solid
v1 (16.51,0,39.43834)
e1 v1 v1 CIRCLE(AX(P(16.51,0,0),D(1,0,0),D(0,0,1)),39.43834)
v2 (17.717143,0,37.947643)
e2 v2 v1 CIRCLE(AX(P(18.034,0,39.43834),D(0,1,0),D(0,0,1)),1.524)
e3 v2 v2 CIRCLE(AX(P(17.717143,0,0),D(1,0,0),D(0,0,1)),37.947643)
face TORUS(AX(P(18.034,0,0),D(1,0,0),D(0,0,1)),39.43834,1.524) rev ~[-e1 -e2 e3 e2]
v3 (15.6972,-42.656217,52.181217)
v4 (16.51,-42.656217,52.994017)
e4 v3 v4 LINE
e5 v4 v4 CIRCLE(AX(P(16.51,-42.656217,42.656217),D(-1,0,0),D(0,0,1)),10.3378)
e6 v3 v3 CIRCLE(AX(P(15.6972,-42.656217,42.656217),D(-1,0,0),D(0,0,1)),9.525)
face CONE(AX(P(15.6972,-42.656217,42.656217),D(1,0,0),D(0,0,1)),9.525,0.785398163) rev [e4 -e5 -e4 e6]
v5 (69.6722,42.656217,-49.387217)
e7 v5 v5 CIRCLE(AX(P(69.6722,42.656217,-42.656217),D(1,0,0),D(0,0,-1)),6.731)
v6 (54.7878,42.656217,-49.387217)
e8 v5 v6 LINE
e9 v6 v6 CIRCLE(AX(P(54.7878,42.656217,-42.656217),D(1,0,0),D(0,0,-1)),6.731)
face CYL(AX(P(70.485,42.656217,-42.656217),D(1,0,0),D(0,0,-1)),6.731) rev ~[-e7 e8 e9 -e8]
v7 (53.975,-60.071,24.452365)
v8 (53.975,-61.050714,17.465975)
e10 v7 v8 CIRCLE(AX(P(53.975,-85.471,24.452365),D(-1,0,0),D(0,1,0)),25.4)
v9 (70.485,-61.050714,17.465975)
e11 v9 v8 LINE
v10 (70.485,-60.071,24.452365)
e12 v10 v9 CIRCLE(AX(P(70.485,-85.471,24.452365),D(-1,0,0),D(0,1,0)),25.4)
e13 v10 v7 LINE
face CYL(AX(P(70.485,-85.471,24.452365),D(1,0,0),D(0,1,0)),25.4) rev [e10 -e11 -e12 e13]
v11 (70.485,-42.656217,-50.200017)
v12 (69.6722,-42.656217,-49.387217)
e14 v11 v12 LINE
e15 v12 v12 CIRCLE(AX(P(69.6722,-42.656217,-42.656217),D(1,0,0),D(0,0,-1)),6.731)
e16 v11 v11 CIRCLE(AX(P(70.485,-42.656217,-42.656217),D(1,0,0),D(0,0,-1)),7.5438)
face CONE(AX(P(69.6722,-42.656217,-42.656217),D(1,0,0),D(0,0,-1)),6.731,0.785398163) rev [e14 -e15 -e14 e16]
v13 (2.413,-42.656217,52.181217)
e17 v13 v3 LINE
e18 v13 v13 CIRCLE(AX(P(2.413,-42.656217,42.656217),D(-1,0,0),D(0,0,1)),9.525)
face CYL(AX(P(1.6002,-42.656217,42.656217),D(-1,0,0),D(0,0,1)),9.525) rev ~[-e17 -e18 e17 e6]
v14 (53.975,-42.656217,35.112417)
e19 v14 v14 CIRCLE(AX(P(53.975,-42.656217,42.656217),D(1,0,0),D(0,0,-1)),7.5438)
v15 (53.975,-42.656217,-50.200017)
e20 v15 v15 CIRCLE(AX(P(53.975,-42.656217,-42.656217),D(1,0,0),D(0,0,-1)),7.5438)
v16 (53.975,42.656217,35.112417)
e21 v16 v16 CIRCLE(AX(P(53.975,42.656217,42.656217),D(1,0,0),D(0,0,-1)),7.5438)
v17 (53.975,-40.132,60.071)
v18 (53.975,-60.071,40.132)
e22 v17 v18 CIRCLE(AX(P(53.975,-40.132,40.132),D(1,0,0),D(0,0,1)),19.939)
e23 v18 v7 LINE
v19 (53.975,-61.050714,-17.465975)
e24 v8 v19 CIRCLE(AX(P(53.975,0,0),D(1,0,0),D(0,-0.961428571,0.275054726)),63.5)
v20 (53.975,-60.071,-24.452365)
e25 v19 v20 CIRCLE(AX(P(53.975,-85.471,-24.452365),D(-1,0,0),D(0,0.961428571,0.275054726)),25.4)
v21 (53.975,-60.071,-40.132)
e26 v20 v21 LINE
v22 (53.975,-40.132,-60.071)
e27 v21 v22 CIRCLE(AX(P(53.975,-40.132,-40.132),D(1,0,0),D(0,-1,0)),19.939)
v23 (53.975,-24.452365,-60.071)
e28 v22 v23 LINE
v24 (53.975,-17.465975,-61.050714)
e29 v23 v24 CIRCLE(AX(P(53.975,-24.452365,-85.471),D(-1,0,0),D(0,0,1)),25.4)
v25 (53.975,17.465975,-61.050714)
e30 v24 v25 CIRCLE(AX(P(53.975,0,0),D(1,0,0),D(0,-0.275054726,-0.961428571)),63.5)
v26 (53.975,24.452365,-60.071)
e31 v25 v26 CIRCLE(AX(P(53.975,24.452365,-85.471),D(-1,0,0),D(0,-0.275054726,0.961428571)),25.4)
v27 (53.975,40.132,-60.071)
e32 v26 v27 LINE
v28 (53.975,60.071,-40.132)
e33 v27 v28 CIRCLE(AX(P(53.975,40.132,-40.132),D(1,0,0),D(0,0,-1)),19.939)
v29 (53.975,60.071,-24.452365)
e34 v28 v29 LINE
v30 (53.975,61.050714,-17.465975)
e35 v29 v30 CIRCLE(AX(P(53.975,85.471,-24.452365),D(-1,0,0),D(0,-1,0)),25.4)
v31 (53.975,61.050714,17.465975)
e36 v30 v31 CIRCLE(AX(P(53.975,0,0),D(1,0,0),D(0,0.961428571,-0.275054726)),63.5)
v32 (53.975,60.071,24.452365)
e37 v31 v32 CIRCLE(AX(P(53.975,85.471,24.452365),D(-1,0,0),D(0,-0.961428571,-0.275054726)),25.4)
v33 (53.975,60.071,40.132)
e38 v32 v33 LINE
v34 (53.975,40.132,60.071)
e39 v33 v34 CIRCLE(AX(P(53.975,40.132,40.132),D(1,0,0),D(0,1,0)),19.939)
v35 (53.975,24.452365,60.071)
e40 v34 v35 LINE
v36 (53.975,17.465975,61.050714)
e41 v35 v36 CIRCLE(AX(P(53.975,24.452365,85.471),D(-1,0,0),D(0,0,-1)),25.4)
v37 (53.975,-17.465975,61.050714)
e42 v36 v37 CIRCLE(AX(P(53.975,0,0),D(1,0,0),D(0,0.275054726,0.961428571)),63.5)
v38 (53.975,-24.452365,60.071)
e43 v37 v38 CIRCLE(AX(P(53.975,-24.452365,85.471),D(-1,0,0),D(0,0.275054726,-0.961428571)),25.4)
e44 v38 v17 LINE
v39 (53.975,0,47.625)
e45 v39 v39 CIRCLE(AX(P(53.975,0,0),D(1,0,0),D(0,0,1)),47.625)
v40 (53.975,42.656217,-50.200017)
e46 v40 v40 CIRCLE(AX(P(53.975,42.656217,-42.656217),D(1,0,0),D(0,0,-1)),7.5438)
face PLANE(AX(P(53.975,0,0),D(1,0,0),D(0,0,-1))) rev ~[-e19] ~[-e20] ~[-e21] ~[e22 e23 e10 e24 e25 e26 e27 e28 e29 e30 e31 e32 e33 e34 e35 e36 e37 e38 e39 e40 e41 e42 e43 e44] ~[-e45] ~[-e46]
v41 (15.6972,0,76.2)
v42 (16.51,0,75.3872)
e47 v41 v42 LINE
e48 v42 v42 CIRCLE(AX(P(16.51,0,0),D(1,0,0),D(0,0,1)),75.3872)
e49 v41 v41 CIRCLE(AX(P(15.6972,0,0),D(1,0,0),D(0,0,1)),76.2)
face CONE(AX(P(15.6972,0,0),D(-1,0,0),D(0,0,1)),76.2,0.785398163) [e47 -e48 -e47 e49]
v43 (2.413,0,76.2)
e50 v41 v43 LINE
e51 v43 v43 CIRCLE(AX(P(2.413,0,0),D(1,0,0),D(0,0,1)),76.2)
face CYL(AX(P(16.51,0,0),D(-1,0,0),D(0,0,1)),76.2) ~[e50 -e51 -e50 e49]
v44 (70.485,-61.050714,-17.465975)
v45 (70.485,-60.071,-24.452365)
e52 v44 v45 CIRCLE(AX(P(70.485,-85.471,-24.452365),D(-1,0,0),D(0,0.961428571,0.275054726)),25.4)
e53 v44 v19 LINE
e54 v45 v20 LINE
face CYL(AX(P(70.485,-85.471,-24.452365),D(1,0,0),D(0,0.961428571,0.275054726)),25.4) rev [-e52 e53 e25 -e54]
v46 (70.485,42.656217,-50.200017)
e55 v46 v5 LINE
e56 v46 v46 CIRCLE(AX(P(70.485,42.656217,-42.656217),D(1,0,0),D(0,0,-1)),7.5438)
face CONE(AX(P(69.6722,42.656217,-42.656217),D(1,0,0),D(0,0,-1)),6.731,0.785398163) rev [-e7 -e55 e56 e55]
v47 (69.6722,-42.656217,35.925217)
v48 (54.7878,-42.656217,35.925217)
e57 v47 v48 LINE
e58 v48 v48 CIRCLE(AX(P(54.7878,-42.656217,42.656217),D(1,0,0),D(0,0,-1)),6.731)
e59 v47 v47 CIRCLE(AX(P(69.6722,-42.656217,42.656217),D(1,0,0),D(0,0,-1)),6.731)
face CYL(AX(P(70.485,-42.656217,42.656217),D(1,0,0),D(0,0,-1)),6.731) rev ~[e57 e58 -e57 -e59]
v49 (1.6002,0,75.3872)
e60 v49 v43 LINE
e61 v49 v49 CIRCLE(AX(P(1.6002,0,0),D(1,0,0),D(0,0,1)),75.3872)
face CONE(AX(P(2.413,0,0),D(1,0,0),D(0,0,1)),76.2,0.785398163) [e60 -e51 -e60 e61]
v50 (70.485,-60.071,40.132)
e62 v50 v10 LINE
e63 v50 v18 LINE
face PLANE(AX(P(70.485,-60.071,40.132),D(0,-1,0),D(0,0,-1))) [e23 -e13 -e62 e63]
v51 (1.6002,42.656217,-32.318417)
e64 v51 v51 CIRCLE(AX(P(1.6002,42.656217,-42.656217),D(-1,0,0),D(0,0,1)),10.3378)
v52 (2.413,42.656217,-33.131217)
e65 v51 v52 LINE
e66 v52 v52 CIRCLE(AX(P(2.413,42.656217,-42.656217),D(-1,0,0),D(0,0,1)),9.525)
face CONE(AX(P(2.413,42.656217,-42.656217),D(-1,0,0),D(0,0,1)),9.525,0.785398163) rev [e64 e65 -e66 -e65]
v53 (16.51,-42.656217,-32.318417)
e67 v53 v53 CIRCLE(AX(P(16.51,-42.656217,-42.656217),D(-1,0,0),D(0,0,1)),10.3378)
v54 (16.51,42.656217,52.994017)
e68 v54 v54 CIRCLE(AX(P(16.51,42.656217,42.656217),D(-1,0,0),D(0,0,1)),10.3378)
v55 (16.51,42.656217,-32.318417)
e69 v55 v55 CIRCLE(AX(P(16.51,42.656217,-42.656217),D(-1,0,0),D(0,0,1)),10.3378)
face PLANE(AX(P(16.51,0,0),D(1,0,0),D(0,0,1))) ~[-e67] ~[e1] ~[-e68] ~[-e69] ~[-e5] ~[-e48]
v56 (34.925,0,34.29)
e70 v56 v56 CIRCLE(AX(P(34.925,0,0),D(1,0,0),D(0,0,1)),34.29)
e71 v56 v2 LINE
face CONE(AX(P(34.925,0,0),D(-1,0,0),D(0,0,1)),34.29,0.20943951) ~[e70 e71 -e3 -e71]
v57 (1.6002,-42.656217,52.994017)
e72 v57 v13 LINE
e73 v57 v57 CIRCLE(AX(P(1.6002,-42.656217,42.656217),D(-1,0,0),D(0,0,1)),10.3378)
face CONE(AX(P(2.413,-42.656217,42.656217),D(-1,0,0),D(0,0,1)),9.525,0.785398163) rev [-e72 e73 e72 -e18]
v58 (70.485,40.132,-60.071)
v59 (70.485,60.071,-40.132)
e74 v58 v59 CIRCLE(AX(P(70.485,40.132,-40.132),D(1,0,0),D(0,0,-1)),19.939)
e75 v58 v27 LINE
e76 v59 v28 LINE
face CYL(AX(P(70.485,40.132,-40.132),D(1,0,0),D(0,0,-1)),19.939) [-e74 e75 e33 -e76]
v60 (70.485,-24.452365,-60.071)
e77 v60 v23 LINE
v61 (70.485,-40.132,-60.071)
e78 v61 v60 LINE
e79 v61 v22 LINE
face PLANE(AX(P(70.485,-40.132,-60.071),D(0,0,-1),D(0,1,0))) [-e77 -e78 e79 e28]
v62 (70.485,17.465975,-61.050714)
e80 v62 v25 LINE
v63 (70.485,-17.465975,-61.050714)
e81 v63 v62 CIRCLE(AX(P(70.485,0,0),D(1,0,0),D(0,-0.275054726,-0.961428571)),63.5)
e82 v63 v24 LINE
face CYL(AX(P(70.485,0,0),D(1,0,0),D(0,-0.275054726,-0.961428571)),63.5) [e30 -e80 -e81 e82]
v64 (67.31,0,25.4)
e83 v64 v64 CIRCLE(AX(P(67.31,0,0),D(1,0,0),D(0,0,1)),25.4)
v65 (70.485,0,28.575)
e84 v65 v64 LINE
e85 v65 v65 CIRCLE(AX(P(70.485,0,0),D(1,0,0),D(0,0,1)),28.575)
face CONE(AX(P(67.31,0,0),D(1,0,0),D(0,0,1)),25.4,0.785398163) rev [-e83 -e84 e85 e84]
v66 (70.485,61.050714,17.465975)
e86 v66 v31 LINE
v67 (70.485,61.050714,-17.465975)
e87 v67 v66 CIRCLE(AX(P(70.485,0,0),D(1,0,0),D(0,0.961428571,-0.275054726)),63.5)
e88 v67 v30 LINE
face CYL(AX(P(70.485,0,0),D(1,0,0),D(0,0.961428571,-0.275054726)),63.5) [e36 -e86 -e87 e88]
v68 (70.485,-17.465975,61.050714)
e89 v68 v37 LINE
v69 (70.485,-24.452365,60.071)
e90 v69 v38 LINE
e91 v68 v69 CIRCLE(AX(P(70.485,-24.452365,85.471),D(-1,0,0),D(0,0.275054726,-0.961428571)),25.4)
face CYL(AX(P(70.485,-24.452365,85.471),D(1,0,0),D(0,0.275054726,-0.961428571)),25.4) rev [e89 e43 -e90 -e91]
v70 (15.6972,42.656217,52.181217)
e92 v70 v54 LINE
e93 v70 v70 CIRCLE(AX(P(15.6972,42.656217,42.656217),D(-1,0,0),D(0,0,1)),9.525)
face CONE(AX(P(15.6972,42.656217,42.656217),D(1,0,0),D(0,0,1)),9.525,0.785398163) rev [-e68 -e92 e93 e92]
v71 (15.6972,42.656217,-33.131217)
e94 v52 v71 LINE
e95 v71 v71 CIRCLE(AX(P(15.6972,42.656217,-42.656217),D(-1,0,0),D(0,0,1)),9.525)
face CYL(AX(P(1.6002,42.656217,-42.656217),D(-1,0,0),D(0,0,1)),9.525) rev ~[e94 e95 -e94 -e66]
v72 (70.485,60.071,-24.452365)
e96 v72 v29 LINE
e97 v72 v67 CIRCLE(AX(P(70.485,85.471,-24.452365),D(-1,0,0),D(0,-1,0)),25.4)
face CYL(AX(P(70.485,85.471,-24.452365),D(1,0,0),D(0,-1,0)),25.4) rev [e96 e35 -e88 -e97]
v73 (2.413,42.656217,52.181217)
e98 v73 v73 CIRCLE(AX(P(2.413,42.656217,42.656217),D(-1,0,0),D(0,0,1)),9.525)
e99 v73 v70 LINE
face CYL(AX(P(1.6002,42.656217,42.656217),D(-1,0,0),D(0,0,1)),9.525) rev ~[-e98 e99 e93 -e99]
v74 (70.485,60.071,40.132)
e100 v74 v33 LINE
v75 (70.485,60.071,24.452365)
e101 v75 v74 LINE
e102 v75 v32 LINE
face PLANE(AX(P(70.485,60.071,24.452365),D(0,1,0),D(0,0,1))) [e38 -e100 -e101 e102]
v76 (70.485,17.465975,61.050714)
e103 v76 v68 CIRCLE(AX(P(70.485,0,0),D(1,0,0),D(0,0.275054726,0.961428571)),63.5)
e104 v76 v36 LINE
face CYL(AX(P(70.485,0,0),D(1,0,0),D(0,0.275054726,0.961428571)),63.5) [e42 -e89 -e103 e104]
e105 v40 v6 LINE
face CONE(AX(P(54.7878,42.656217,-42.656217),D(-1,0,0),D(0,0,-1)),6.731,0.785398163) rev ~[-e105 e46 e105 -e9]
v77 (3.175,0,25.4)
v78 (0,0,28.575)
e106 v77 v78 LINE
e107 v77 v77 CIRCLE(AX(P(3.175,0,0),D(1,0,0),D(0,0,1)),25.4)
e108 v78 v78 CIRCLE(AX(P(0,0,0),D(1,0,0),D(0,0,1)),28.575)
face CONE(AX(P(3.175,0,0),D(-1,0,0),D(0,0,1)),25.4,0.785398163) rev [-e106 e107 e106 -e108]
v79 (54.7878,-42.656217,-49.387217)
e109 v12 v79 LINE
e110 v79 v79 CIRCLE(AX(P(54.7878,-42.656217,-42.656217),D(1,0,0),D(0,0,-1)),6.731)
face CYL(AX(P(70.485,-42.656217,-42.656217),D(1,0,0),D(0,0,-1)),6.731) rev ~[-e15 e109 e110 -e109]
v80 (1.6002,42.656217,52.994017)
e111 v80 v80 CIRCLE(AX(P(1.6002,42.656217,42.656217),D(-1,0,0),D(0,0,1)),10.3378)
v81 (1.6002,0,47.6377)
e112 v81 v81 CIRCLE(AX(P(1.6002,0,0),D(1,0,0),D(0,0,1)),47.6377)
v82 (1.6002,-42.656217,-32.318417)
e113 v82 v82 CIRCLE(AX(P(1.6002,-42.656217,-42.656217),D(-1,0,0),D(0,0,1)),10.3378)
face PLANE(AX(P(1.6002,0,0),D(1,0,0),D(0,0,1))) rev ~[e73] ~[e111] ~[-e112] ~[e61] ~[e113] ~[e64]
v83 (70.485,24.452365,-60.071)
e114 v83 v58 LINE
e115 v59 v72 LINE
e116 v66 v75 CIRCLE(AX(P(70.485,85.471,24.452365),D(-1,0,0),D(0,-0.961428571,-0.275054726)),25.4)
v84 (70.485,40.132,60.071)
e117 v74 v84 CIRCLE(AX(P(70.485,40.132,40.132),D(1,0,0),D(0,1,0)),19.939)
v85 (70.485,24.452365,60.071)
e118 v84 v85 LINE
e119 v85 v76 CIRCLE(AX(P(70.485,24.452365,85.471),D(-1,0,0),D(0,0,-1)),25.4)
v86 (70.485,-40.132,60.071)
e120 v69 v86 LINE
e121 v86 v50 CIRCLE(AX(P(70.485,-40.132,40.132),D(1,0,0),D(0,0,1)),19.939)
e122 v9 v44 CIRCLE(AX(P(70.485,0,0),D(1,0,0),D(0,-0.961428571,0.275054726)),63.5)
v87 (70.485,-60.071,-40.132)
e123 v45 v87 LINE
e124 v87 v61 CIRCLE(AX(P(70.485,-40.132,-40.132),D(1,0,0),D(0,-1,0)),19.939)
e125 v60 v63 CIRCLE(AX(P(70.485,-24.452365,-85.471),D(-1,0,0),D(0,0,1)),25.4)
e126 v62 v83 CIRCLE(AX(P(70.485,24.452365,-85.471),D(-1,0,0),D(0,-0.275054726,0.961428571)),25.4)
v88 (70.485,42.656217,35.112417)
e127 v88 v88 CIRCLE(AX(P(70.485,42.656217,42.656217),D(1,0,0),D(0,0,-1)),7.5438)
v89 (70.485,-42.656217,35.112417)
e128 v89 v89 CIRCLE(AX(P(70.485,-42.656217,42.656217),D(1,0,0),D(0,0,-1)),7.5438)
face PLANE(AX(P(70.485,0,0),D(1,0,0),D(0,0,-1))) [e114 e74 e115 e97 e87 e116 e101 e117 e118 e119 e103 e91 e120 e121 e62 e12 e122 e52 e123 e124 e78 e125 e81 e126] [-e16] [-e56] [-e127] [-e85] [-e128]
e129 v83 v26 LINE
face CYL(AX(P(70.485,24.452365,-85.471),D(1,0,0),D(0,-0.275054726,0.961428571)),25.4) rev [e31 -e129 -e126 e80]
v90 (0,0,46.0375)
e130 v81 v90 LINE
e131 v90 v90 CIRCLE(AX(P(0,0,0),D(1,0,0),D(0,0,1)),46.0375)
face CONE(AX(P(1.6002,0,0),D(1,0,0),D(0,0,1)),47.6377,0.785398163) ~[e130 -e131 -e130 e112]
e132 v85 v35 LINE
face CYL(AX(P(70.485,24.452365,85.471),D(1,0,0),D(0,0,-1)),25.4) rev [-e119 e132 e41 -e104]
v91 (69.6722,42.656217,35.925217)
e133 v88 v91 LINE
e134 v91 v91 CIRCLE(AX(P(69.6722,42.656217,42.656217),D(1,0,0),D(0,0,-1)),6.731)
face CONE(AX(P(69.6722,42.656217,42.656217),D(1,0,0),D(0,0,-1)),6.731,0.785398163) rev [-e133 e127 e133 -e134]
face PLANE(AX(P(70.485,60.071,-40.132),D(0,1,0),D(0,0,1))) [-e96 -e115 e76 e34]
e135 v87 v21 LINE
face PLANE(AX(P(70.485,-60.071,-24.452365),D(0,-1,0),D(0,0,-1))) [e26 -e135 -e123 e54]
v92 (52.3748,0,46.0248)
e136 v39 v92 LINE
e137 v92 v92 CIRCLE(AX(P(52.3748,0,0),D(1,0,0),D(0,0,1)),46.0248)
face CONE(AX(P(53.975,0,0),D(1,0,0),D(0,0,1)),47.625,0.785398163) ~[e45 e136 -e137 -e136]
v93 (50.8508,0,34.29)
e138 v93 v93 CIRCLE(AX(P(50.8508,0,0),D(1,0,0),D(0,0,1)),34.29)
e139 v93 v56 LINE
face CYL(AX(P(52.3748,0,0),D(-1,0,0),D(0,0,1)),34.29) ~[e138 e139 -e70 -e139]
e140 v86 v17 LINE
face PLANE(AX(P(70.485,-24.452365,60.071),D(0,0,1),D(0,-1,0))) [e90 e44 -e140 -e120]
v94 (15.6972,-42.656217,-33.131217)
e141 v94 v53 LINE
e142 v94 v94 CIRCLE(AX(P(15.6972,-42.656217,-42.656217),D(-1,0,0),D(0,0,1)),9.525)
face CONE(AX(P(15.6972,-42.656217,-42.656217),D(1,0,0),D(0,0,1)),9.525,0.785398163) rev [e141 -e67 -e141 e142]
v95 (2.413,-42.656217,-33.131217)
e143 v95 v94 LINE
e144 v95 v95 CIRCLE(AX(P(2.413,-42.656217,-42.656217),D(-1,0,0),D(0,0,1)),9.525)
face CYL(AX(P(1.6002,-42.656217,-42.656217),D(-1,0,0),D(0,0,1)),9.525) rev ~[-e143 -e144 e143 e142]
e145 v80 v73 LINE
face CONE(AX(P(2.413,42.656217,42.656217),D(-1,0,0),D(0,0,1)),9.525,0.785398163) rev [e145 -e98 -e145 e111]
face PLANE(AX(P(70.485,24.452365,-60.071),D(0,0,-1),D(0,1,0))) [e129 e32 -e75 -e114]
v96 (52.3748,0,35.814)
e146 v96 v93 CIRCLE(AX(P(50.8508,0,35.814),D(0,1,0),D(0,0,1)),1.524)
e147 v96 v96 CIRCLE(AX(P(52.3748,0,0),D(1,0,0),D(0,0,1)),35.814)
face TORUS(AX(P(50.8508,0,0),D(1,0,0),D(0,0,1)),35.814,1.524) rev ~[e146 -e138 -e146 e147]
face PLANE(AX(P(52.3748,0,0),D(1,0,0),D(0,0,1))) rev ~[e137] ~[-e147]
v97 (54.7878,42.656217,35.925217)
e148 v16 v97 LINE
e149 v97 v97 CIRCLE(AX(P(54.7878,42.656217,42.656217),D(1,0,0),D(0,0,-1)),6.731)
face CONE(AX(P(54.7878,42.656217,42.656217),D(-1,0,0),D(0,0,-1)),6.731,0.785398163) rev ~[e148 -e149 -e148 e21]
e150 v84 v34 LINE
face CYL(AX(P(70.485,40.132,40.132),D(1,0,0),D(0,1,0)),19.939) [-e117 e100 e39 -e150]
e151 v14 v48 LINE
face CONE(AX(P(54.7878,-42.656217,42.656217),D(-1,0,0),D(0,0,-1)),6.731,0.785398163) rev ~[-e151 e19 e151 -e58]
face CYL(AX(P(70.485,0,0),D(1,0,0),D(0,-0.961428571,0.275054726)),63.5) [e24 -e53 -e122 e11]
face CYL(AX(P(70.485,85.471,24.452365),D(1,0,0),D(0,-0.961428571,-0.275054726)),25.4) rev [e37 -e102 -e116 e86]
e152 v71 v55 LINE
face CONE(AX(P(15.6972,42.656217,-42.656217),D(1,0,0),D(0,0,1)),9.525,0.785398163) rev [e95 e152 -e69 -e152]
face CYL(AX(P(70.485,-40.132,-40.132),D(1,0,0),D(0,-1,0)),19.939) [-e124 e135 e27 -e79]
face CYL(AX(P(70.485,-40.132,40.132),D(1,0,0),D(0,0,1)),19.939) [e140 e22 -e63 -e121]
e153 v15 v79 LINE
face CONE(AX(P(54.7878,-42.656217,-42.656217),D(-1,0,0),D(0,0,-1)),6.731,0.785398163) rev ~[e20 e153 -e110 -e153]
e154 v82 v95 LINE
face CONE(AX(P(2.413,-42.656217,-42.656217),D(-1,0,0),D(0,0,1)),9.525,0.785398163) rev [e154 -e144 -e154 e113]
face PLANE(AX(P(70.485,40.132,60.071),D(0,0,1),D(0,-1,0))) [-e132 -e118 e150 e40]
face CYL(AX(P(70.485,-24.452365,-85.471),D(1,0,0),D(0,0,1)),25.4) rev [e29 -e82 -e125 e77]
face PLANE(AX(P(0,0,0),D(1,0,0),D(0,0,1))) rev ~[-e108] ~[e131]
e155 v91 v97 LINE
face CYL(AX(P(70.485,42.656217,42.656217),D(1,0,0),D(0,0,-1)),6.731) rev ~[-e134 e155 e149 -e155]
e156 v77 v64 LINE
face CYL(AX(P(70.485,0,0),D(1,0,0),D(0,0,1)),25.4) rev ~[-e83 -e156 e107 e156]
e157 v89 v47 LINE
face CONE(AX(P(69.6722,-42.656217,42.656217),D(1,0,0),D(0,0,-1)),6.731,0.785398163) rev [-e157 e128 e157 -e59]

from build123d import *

# Parameters (mm, degrees)
SALIENTE_EXTRUIR1_START = 16.51
CROQUIS2_R              = 6.731
CROQUIS2_R_2            = 25.4
SALIENTE_EXTRUIR1_DEPTH = 16.51
CORTAR_EXTRUIR1_REACH   = 129.898
CROQUIS3_R              = 9.525
CHAFL_N1_SIZE           = 0.8128
CHAFL_N2_SIZE           = 3.175
REDONDEO1_R             = 1.524
CROQUIS4_R              = 25.4
CROQUIS4_R_2            = 6.731
SALIENTE_EXTRUIR2_DEPTH = 16.51
CROQUIS6_R              = 76.2
CROQUIS6_R_2            = 9.525
CROQUIS6_R_3            = 25.4
SALIENTE_EXTRUIR3_DEPTH = 16.51


with BuildPart() as part:
    # Croquis1 → Revolución1 (revolve)
    with BuildSketch(Plane.XY, mode=Mode.PRIVATE) as revoluci_n1_sk:
        Polygon((0, 25.4), (53.975, 25.4), (53.975, 47.625), (52.3748, 46.0248), (52.3748, 34.29), (34.925, 34.29), (16.51, 38.204229083), (16.51, 76.2), (1.6002, 76.2), (1.6002, 47.6377), (0, 46.0375), align=None)
    revolve(revoluci_n1_sk.sketch.rotate(Axis((0, 0, 0), (1, 0, 0)), 90), axis=Axis((0, 0, 0), (1, 0, 0)))

    # Croquis2 → Saliente-Extruir1 (add)
    with BuildSketch(Plane(origin=(53.975, 0, 0), x_dir=(0, 0, -1), z_dir=(1, 0, 0)).offset(SALIENTE_EXTRUIR1_START)):
        with BuildLine():
            Line((-60.071, 40.132), (-60.071, 24.4523651))
            ThreePointArc((-60.071, 24.4523651), (-60.317121003, 20.92499052), (-61.050714286, 17.465975072))
            ThreePointArc((-61.050714286, 17.465975072), (-63.5, 0), (-61.050714286, -17.465975072))
            ThreePointArc((-61.050714286, -17.465975072), (-60.317121003, -20.92499052), (-60.071, -24.4523651))
            Line((-60.071, -24.4523651), (-60.071, -40.132))
            ThreePointArc((-60.071, -40.132), (-54.23100211, -54.23100211), (-40.132, -60.071))
            Line((-40.132, -60.071), (-24.4523651, -60.071))
            ThreePointArc((-24.4523651, -60.071), (-20.92499052, -60.317121003), (-17.465975072, -61.050714286))
            ThreePointArc((-17.465975072, -61.050714286), (0, -63.5), (17.465975072, -61.050714286))
            ThreePointArc((17.465975072, -61.050714286), (20.92499052, -60.317121003), (24.4523651, -60.071))
            Line((24.4523651, -60.071), (40.132, -60.071))
            ThreePointArc((40.132, -60.071), (54.23100211, -54.23100211), (60.071, -40.132))
            Line((60.071, -40.132), (60.071, -24.4523651))
            ThreePointArc((60.071, -24.4523651), (60.317121003, -20.92499052), (61.050714286, -17.465975072))
            ThreePointArc((61.050714286, -17.465975072), (63.5, 0), (61.050714286, 17.465975072))
            ThreePointArc((61.050714286, 17.465975072), (60.317121003, 20.92499052), (60.071, 24.4523651))
            Line((60.071, 24.4523651), (60.071, 40.132))
            ThreePointArc((60.071, 40.132), (54.23100211, 54.23100211), (40.132, 60.071))
            Line((40.132, 60.071), (24.4523651, 60.071))
            ThreePointArc((24.4523651, 60.071), (20.92499052, 60.317121003), (17.465975072, 61.050714286))
            ThreePointArc((17.465975072, 61.050714286), (0, 63.5), (-17.465975072, 61.050714286))
            ThreePointArc((-17.465975072, 61.050714286), (-20.92499052, 60.317121003), (-24.4523651, 60.071))
            Line((-24.4523651, 60.071), (-40.132, 60.071))
            ThreePointArc((-40.132, 60.071), (-54.23100211, 54.23100211), (-60.071, 40.132))
        make_face()
        with Locations((-42.656216575, 42.656216575)):
            Circle(CROQUIS2_R, mode=Mode.SUBTRACT)
        with Locations((42.656216575, 42.656216575)):
            Circle(CROQUIS2_R, mode=Mode.SUBTRACT)
        with Locations((42.656216575, -42.656216575)):
            Circle(CROQUIS2_R, mode=Mode.SUBTRACT)
        with Locations((-42.656216575, -42.656216575)):
            Circle(CROQUIS2_R, mode=Mode.SUBTRACT)
        with Locations(Location((0, 0, 0), (0, 0, 180))):
            Circle(CROQUIS2_R_2, mode=Mode.SUBTRACT)
    extrude(amount=-SALIENTE_EXTRUIR1_DEPTH)

    # Croquis3 → Cortar-Extruir1 (cut, up to next)
    with BuildSketch(Plane.ZY.offset(-1.6002), mode=Mode.PRIVATE) as cortar_extruir1_sk1:
        with Locations((-42.656216575, 42.656216575)):
            Circle(CROQUIS3_R)
    cortar_extruir1_tool1 = extrude(cortar_extruir1_sk1.sketch, amount=-CORTAR_EXTRUIR1_REACH, mode=Mode.PRIVATE) & part.part
    # Croquis3 → Cortar-Extruir1 (cut, up to next)
    with BuildSketch(Plane.ZY.offset(-1.6002), mode=Mode.PRIVATE) as cortar_extruir1_sk2:
        with Locations((42.656216575, 42.656216575)):
            Circle(CROQUIS3_R)
    cortar_extruir1_tool2 = extrude(cortar_extruir1_sk2.sketch, amount=-CORTAR_EXTRUIR1_REACH, mode=Mode.PRIVATE) & part.part
    # Croquis3 → Cortar-Extruir1 (cut, up to next)
    with BuildSketch(Plane.ZY.offset(-1.6002), mode=Mode.PRIVATE) as cortar_extruir1_sk3:
        with Locations((42.656216575, -42.656216575)):
            Circle(CROQUIS3_R)
    cortar_extruir1_tool3 = extrude(cortar_extruir1_sk3.sketch, amount=-CORTAR_EXTRUIR1_REACH, mode=Mode.PRIVATE) & part.part
    # Croquis3 → Cortar-Extruir1 (cut, up to next)
    with BuildSketch(Plane.ZY.offset(-1.6002), mode=Mode.PRIVATE) as cortar_extruir1_sk4:
        with Locations((-42.656216575, -42.656216575)):
            Circle(CROQUIS3_R)
    cortar_extruir1_tool4 = extrude(cortar_extruir1_sk4.sketch, amount=-CORTAR_EXTRUIR1_REACH, mode=Mode.PRIVATE) & part.part
    add(cortar_extruir1_tool1.solids().sort_by_distance((1.6002, 42.656217, -42.656217))[0], mode=Mode.SUBTRACT)
    add(cortar_extruir1_tool2.solids().sort_by_distance((1.6002, 42.656217, 42.656217))[0], mode=Mode.SUBTRACT)
    add(cortar_extruir1_tool3.solids().sort_by_distance((1.6002, -42.656217, 42.656217))[0], mode=Mode.SUBTRACT)
    add(cortar_extruir1_tool4.solids().sort_by_distance((1.6002, -42.656217, -42.656217))[0], mode=Mode.SUBTRACT)

    # Chaflán1
    chafl_n1_edges = [part.edges().sort_by_distance(p)[0] for p in [
        (53.975, 42.656216575, 49.387216575),
        (53.975, 42.656216575, -35.925216575),
        (53.975, -42.656216575, -35.925216575),
        (53.975, -42.656216575, 49.387216575),
        (70.485, 42.656216575, 49.387216575),
        (70.485, 42.656216575, -35.925216575),
        (70.485, -42.656216575, -35.925216575),
        (70.485, -42.656216575, 49.387216575),
        (1.6002, 0, -76.2),
        (16.51, 0, -76.2),
        (1.6002, -42.656216575, -52.181216575),
        (16.51, -42.656216575, -52.181216575),
        (1.6002, -42.656216575, 33.131216575),
        (16.51, -42.656216575, 33.131216575),
        (1.6002, 42.656216575, 33.131216575),
        (16.51, 42.656216575, 33.131216575),
        (1.6002, 42.656216575, -52.181216575),
        (16.51, 42.656216575, -52.181216575),
    ]]
    chamfer(chafl_n1_edges, length=CHAFL_N1_SIZE)

    # Chaflán2
    chafl_n2_edges = [part.edges().sort_by_distance(p)[0] for p in [
        (0, 0, -25.4),
        (70.485, 0, -25.4),
    ]]
    chamfer(chafl_n2_edges, length=CHAFL_N2_SIZE)

    # Redondeo1
    redondeo1_edges = [part.edges().sort_by_distance(p)[0] for p in [
        (52.3748, 0, -34.29),
        (16.51, 0, -38.204229083),
    ]]
    fillet(redondeo1_edges, radius=REDONDEO1_R)


with BuildPart() as body_2:
    # Croquis4 → Saliente-Extruir2 (new body)
    with BuildSketch(Plane(origin=(70.485, 0, 0), x_dir=(0, 0, -1), z_dir=(1, 0, 0))):
        with BuildLine():
            Line((-24.4523651, 60.071), (-40.132, 60.071))
            ThreePointArc((-40.132, 60.071), (-54.23100211, 54.23100211), (-60.071, 40.132))
            Line((-60.071, 40.132), (-60.071, 24.4523651))
            ThreePointArc((-60.071, 24.4523651), (-60.317121003, 20.92499052), (-61.050714286, 17.465975072))
            ThreePointArc((-61.050714286, 17.465975072), (-63.5, 0), (-61.050714286, -17.465975072))
            ThreePointArc((-61.050714286, -17.465975072), (-60.317121003, -20.92499052), (-60.071, -24.4523651))
            Line((-60.071, -24.4523651), (-60.071, -40.132))
            ThreePointArc((-60.071, -40.132), (-54.23100211, -54.23100211), (-40.132, -60.071))
            Line((-40.132, -60.071), (-24.4523651, -60.071))
            ThreePointArc((-24.4523651, -60.071), (-20.92499052, -60.317121003), (-17.465975072, -61.050714286))
            ThreePointArc((-17.465975072, -61.050714286), (0, -63.5), (17.465975072, -61.050714286))
            ThreePointArc((17.465975072, -61.050714286), (20.92499052, -60.317121003), (24.4523651, -60.071))
            Line((24.4523651, -60.071), (40.132, -60.071))
            ThreePointArc((40.132, -60.071), (54.23100211, -54.23100211), (60.071, -40.132))
            Line((60.071, -40.132), (60.071, -24.4523651))
            ThreePointArc((60.071, -24.4523651), (60.317121003, -20.92499052), (61.050714286, -17.465975072))
            ThreePointArc((61.050714286, -17.465975072), (63.5, 0), (61.050714286, 17.465975072))
            ThreePointArc((61.050714286, 17.465975072), (60.317121003, 20.92499052), (60.071, 24.4523651))
            Line((60.071, 24.4523651), (60.071, 40.132))
            ThreePointArc((60.071, 40.132), (54.23100211, 54.23100211), (40.132, 60.071))
            Line((40.132, 60.071), (24.4523651, 60.071))
            ThreePointArc((24.4523651, 60.071), (20.92499052, 60.317121003), (17.465975072, 61.050714286))
            ThreePointArc((17.465975072, 61.050714286), (0, 63.5), (-17.465975072, 61.050714286))
            ThreePointArc((-17.465975072, 61.050714286), (-20.92499052, 60.317121003), (-24.4523651, 60.071))
        make_face()
        Circle(CROQUIS4_R, mode=Mode.SUBTRACT)
        with Locations((42.656216575, -42.656216575)):
            Circle(CROQUIS4_R_2, mode=Mode.SUBTRACT)
        with Locations((-42.656216575, -42.656216575)):
            Circle(CROQUIS4_R_2, mode=Mode.SUBTRACT)
        with Locations((42.656216575, 42.656216575)):
            Circle(CROQUIS4_R_2, mode=Mode.SUBTRACT)
        with Locations((-42.656216575, 42.656216575)):
            Circle(CROQUIS4_R_2, mode=Mode.SUBTRACT)
    extrude(amount=SALIENTE_EXTRUIR2_DEPTH)


with BuildPart() as body_3:
    # Croquis5 → Revolución2 (revolve)
    with BuildSketch(Plane.XY, mode=Mode.PRIVATE) as revoluci_n2_sk:
        with BuildLine():
            Line((86.995, -25.4), (156.845, -25.4))
            Line((156.845, -25.4), (156.845, -38.1))
            Line((156.845, -38.1), (141.097, -38.1))
            Line((141.097, -38.1), (100.143007491, -49.07358922))
            ThreePointArc((100.143007491, -49.07358922), (93.625730565, -50.369956202), (86.995, -50.804557244))
            Line((86.995, -50.804557244), (86.995, -25.4))
        make_face()
    revolve(revoluci_n2_sk.sketch.rotate(Axis((0, 0, 0), (1, 0, 0)), 90), axis=Axis((0, 0, 0), (1, 0, 0)))


with BuildPart() as body_4:
    # Croquis6 → Saliente-Extruir3 (new body)
    with BuildSketch(Plane(origin=(156.845, 0, 0), x_dir=(0, 0, -1), z_dir=(1, 0, 0))):
        with Locations(Location((0, 0, 0), (0, 0, 180))):
            Circle(CROQUIS6_R)
        with Locations(Location((42.656216575, -42.656216575, 0), (0, 0, 180))):
            Circle(CROQUIS6_R_2, mode=Mode.SUBTRACT)
        with Locations(Location((-42.656216575, -42.656216575, 0), (0, 0, 180))):
            Circle(CROQUIS6_R_2, mode=Mode.SUBTRACT)
        with Locations(Location((42.656216575, 42.656216575, 0), (0, 0, 180))):
            Circle(CROQUIS6_R_2, mode=Mode.SUBTRACT)
        with Locations(Location((-42.656216575, 42.656216575, 0), (0, 0, 180))):
            Circle(CROQUIS6_R_2, mode=Mode.SUBTRACT)
        Circle(CROQUIS6_R_3, mode=Mode.SUBTRACT)
    extrude(amount=SALIENTE_EXTRUIR3_DEPTH)


solid = part.part
